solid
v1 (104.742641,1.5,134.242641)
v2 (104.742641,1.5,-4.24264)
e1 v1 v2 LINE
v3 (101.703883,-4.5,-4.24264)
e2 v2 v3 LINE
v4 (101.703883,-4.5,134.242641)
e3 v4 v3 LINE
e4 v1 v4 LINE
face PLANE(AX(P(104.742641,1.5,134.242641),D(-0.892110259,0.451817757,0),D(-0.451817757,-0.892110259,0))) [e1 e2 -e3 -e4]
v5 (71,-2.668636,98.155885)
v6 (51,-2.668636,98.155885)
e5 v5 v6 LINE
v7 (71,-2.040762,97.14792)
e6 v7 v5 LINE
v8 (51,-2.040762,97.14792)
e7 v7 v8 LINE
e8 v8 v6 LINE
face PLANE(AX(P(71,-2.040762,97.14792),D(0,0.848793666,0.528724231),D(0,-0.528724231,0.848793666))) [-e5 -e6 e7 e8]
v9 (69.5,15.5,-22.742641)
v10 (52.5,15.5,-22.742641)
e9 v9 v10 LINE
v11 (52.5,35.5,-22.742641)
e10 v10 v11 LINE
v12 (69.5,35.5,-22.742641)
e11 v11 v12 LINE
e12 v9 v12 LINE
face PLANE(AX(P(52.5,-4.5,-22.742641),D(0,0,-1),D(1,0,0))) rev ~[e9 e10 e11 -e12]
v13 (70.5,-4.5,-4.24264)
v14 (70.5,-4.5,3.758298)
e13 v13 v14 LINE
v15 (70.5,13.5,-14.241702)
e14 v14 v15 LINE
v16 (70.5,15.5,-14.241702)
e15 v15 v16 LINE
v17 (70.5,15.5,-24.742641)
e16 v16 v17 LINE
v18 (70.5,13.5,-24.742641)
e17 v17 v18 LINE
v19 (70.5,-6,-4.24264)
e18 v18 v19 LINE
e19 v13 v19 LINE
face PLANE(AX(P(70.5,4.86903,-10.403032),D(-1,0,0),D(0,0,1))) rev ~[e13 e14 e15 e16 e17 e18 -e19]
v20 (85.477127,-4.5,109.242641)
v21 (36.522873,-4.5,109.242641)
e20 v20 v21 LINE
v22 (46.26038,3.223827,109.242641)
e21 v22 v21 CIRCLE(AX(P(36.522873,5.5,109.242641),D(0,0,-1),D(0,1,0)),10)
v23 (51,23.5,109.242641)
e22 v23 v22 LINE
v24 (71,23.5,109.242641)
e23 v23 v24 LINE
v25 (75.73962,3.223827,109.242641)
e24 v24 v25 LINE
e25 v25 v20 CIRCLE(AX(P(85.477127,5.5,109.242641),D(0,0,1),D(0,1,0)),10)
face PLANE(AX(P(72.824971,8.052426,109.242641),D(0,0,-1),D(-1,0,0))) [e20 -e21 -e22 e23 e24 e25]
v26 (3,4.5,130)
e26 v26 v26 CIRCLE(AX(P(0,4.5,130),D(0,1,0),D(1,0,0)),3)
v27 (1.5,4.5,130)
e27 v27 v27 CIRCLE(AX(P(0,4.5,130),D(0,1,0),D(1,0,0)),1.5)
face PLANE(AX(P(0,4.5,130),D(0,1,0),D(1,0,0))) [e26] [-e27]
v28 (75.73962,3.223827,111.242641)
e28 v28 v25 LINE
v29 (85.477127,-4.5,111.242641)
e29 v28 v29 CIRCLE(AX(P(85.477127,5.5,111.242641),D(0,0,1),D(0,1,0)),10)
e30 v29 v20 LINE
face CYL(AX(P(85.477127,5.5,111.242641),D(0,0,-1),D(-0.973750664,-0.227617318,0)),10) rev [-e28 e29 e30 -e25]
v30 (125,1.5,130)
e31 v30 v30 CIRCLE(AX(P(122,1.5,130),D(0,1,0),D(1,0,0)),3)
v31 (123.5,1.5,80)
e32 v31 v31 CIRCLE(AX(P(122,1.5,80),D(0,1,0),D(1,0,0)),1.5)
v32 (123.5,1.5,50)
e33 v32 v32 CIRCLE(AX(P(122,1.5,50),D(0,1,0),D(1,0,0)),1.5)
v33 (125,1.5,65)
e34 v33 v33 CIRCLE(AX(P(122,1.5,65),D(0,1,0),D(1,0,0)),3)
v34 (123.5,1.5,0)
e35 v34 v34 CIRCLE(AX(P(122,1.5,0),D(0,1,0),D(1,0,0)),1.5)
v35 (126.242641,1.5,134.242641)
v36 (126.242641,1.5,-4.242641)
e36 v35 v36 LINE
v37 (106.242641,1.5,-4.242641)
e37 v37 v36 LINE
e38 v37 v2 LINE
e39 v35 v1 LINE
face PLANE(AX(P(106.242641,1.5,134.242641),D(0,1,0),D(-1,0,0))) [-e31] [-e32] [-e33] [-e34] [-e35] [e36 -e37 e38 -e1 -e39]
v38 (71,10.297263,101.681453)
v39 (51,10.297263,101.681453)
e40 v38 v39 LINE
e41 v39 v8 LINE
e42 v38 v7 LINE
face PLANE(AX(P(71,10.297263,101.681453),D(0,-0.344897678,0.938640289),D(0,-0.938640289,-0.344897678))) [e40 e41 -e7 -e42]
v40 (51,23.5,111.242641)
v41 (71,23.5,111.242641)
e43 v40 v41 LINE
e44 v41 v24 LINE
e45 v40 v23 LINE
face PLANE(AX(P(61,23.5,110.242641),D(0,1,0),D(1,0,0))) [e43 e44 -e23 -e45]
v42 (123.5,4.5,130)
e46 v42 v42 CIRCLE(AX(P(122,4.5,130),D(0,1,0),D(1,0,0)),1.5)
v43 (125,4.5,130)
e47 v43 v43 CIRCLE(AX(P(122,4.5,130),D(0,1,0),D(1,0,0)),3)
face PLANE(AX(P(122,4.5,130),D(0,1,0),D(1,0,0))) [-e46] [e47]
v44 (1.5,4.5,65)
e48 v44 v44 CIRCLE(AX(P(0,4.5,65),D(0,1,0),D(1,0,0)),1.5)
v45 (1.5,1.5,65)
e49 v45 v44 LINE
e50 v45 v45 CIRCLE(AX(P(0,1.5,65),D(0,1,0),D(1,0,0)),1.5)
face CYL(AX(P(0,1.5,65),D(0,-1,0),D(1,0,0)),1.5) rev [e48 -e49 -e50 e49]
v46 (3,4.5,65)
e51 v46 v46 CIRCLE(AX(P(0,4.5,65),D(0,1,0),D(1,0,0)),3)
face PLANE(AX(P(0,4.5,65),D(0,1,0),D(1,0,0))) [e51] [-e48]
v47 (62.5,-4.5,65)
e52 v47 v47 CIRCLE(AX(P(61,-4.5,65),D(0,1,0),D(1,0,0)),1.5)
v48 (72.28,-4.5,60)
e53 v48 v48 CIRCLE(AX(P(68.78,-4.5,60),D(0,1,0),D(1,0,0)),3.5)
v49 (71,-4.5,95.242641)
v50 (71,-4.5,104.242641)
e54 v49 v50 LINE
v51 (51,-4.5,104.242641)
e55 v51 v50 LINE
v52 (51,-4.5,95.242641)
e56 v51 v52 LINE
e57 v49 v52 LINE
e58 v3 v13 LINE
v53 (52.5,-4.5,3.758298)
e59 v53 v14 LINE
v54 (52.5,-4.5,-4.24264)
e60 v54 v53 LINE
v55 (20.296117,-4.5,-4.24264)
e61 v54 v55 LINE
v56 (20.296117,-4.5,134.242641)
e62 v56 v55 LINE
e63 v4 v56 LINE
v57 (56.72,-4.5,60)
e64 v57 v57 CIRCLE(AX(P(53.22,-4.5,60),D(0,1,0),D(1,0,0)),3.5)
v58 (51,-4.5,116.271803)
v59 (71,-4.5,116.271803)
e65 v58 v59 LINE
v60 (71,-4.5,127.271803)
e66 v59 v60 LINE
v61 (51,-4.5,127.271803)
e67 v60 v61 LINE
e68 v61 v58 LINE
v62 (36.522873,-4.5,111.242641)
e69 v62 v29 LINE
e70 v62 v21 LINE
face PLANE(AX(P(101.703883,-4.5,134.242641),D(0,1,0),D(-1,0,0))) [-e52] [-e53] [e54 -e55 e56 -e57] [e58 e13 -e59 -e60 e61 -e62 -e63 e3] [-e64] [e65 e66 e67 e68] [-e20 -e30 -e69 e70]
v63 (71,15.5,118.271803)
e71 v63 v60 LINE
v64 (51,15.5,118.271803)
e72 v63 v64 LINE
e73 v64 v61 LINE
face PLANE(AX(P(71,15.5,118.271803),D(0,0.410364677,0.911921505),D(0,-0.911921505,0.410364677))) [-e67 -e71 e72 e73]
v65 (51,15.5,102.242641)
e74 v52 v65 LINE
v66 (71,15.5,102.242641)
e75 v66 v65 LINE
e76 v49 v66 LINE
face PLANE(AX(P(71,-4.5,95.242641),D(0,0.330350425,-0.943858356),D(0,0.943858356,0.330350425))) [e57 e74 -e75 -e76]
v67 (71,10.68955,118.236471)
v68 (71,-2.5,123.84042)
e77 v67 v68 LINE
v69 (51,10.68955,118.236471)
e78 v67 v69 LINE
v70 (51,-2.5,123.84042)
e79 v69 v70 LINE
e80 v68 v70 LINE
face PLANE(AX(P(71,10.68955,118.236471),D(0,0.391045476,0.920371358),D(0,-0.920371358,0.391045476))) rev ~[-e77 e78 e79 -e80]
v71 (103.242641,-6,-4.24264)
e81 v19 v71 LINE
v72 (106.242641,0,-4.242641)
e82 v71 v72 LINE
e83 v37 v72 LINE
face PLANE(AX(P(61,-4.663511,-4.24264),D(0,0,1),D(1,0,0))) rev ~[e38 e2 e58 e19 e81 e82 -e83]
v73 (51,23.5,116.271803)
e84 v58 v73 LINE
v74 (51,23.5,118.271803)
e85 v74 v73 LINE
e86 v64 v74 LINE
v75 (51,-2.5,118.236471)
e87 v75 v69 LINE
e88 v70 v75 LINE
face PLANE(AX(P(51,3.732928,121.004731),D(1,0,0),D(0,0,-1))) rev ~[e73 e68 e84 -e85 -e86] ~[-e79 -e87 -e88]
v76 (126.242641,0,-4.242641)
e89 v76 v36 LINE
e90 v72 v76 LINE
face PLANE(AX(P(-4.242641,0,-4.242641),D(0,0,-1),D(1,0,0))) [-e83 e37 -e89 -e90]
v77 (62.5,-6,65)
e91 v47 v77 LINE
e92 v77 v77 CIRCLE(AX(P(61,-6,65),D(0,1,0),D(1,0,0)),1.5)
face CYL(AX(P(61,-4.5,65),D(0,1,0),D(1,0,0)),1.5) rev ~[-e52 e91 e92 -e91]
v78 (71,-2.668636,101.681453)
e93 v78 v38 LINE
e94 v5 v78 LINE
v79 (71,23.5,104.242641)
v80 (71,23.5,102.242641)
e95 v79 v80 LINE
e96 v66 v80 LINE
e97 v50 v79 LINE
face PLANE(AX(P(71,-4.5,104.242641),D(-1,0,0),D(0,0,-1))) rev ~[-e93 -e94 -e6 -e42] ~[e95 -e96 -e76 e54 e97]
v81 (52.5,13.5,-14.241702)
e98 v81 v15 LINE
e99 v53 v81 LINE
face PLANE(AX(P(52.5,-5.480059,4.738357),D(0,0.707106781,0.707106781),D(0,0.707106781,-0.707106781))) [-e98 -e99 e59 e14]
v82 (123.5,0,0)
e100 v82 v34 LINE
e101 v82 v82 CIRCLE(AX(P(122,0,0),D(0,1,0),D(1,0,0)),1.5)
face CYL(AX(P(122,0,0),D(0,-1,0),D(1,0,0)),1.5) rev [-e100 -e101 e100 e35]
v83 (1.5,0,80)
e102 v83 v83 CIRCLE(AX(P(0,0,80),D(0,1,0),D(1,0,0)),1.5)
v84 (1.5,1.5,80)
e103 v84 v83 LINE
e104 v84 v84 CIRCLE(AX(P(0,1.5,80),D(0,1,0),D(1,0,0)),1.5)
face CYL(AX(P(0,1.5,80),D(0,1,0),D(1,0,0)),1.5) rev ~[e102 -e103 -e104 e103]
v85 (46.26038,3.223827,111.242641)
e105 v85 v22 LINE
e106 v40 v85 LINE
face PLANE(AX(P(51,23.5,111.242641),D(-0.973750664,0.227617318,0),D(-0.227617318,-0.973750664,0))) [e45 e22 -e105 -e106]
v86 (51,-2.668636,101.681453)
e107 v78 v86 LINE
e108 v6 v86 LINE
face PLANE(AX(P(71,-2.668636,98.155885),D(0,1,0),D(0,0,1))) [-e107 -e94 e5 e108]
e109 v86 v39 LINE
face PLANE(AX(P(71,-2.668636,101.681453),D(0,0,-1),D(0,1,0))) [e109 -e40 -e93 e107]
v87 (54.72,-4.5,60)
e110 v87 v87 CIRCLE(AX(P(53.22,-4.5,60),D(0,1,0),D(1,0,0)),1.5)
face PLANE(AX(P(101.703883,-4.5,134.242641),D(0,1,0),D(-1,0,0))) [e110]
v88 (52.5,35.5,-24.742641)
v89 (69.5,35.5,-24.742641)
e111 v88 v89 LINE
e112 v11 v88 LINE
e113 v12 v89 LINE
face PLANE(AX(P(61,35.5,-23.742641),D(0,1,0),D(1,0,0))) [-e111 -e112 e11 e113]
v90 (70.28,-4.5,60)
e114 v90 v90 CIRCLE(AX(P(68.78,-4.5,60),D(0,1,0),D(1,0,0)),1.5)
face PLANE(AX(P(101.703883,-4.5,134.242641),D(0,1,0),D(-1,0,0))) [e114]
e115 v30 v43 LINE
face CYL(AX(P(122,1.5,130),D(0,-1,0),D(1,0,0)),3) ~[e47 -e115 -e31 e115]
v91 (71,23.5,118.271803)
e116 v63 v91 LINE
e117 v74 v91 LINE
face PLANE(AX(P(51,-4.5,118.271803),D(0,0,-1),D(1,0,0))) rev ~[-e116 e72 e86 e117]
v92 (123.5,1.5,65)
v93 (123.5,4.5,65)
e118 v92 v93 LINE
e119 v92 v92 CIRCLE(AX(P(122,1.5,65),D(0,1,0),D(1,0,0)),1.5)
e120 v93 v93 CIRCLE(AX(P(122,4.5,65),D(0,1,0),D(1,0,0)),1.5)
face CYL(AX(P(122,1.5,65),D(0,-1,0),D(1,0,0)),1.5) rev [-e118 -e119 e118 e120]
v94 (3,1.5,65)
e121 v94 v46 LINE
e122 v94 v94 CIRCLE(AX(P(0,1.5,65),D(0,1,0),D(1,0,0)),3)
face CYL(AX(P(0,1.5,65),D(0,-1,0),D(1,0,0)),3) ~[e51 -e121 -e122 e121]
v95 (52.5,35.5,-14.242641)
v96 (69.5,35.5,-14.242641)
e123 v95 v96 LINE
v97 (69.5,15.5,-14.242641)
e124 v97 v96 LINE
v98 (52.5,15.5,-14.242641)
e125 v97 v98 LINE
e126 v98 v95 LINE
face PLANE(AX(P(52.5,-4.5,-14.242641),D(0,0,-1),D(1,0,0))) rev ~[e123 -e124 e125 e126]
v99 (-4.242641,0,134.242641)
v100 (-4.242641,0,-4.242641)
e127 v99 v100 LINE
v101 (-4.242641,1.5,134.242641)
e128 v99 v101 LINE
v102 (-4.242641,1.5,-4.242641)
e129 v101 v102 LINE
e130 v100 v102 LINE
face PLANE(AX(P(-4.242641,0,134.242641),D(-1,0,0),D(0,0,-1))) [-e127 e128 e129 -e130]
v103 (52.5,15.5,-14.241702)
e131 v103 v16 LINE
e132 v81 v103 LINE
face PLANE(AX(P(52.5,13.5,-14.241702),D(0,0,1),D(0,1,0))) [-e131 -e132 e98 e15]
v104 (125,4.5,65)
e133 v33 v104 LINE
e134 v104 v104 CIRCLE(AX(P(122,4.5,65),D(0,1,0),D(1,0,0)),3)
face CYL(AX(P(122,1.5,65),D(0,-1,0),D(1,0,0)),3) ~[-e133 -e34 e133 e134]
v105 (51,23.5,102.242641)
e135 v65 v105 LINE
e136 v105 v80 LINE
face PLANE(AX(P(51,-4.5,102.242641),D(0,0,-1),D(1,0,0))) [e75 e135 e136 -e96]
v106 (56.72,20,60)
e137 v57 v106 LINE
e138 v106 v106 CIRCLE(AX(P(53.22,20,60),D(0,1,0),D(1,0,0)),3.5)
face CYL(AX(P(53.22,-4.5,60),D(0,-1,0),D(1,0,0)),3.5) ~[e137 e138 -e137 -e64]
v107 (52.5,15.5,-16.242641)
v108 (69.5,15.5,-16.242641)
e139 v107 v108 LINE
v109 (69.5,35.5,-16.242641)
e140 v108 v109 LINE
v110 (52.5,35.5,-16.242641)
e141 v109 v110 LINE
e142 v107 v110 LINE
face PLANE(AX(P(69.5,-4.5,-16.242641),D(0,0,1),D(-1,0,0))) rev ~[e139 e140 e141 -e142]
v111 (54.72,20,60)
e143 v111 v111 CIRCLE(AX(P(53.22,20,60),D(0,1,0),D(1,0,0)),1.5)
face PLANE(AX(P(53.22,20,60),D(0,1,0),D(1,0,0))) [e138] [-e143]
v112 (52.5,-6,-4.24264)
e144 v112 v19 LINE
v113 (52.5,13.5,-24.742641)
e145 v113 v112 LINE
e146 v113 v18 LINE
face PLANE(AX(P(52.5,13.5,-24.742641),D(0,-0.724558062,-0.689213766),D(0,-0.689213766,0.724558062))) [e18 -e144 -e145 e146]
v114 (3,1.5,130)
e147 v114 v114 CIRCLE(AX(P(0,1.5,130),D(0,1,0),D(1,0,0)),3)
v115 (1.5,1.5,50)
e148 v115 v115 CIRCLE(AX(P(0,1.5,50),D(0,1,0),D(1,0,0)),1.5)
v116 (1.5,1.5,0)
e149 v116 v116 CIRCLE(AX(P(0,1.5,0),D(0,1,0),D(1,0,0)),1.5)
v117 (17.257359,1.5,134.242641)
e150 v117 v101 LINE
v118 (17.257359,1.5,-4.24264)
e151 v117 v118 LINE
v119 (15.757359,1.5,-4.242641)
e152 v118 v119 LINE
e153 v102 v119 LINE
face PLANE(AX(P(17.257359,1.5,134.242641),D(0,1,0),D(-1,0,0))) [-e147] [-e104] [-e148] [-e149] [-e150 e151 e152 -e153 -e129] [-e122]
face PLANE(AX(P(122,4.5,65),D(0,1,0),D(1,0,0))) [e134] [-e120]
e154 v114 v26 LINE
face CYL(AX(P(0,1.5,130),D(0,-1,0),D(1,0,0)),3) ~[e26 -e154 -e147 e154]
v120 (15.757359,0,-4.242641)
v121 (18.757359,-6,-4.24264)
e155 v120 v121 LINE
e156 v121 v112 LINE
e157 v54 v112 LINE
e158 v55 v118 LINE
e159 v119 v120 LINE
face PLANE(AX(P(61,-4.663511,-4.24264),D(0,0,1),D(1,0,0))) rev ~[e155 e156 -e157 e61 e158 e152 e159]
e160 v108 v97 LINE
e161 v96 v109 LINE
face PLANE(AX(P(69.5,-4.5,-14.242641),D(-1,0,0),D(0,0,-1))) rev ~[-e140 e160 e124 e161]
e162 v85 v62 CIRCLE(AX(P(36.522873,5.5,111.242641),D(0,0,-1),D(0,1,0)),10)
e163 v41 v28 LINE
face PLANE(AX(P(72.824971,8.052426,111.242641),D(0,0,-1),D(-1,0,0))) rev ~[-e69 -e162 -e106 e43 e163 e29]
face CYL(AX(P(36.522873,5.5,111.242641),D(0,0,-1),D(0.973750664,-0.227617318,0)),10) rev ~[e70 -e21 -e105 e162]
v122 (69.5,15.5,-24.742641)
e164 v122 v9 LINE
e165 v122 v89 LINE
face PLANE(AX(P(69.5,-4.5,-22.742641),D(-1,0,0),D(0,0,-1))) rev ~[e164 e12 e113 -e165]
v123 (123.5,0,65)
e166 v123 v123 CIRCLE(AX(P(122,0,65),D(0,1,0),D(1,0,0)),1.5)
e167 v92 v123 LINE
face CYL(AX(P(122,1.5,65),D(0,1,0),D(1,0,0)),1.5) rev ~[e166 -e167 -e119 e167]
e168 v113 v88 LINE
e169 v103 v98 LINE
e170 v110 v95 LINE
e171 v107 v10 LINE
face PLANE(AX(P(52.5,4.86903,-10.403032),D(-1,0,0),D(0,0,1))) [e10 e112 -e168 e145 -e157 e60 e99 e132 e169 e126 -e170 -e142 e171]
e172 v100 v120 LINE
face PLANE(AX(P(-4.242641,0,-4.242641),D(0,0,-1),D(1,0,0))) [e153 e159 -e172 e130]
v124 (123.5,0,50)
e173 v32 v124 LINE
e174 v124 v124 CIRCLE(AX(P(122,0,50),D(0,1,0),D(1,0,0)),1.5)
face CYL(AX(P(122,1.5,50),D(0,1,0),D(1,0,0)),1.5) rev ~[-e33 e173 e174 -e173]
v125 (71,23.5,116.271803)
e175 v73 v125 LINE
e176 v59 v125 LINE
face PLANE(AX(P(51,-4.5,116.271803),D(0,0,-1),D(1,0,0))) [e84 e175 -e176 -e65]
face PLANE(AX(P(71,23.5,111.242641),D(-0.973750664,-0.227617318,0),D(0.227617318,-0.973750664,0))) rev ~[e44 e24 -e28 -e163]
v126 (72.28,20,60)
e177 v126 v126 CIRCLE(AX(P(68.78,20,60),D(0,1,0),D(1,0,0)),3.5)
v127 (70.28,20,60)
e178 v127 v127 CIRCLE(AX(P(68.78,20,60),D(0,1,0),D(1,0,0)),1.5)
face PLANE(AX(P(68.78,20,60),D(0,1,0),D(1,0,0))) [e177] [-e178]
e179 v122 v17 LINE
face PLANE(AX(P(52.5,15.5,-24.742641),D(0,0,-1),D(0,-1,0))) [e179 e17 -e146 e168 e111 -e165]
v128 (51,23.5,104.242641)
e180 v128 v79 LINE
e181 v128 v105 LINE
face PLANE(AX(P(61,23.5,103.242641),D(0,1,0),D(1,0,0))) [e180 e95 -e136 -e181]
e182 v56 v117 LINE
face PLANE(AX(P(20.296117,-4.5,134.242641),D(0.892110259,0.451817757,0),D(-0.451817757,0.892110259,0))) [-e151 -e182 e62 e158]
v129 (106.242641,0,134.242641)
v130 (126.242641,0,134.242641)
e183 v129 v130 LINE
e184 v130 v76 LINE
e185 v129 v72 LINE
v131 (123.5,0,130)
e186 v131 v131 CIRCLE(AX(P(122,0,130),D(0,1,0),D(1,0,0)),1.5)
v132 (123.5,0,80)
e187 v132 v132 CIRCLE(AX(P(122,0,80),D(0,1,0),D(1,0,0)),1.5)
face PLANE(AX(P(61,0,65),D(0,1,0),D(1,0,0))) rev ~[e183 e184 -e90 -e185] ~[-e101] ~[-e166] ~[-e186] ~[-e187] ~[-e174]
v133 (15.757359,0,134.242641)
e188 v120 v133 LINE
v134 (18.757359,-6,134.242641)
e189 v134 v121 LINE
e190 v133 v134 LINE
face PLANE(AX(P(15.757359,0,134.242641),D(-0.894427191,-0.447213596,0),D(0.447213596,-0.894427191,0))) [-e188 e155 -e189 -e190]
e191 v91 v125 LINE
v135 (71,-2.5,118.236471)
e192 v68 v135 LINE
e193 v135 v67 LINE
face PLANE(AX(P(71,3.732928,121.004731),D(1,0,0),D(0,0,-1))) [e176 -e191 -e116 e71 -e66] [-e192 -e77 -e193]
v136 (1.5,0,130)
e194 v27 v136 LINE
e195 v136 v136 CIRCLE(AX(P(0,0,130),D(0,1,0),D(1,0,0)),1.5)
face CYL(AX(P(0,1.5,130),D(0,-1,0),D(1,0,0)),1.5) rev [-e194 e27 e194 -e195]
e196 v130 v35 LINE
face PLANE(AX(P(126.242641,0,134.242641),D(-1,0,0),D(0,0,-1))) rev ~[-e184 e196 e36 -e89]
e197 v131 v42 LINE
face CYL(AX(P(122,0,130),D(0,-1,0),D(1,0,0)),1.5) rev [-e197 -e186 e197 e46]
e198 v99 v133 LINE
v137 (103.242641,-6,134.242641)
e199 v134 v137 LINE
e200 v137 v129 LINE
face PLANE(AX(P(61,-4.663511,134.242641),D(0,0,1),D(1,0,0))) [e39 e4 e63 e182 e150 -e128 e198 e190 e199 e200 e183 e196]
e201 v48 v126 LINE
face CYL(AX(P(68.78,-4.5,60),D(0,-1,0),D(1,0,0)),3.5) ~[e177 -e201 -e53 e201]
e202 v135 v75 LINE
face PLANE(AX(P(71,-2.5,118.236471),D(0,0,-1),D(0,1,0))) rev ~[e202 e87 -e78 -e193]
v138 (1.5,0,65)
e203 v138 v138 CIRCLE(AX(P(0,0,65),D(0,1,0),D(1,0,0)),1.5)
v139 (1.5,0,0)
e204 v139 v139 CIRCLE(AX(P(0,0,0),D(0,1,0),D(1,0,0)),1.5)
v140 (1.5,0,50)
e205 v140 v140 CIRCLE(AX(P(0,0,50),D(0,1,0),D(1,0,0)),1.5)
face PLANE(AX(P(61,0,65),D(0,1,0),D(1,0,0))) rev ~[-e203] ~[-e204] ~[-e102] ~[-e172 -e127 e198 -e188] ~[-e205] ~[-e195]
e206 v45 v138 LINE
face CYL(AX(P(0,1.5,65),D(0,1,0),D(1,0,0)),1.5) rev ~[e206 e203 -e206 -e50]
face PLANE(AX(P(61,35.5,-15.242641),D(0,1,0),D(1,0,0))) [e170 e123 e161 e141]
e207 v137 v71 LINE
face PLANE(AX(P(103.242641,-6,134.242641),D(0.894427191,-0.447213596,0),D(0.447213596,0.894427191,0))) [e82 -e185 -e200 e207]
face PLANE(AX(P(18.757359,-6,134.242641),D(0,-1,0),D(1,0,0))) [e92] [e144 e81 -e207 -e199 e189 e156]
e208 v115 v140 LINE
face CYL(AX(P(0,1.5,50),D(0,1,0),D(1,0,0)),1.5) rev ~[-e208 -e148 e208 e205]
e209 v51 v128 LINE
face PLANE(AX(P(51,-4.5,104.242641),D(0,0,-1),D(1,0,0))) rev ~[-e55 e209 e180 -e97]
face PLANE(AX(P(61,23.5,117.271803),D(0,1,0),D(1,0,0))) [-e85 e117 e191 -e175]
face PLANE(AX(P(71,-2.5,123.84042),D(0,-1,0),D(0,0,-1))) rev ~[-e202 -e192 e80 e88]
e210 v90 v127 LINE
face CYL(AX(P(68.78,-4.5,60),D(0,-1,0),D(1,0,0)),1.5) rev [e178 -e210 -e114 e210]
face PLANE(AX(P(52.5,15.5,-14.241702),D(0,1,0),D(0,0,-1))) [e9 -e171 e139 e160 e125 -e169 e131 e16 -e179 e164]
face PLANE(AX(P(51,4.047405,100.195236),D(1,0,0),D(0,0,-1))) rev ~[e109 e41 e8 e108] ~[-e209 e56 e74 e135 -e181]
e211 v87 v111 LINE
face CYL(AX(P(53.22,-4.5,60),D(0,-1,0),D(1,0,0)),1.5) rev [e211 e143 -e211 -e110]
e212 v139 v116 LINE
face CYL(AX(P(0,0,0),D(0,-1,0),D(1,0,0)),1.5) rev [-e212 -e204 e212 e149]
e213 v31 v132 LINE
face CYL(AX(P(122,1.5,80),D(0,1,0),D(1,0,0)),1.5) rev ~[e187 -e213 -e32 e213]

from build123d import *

# Parameters (mm, degrees)
SKETCH1_W              = 130.485281374
SKETCH1_H              = 138.485281374
SKETCH1_R              = 1.5
BOSS_EXTRUDE1_DEPTH    = 1.5
CUT_EXTRUDE1_DEPTH     = 17.5
BOSS_EXTRUDE2_DEPTH    = 138.485281
SKETCH14_R             = 3
SKETCH14_R_2           = 1.5
BOSS_EXTRUDE7_DEPTH    = 3
SKETCH15_R             = 1.5
CUT_EXTRUDE6_DEPTH     = 3
SKETCH16_R             = 3
SKETCH16_R_2           = 1.5
BOSS_EXTRUDE8_DEPTH    = 3
SKETCH17_R             = 1.5
CUT_EXTRUDE7_DEPTH     = 3
SKETCH18_R             = 3.5
SKETCH18_R_2           = 1.5
BOSS_EXTRUDE9_DEPTH    = 24.5
SKETCH19_W             = 20
SKETCH19_H             = 2
BOSS_EXTRUDE10_DEPTH   = 28
BOSS_EXTRUDE11_DEPTH   = 20
SKETCH24_R             = 1.5
CUT_EXTRUDE9_DEPTH     = 16
BOSS_EXTRUDE13_DEPTH   = 40
SKETCH27_W             = 17
SKETCH27_H             = 2
BOSS_EXTRUDE13_2_DEPTH = 40
SKETCH28_W             = 29.536458096
SKETCH28_H             = 15.843310856
CUT_EXTRUDE10_DEPTH    = 20
BOSS_EXTRUDE14_DEPTH   = 18
CUT_EXTRUDE11_DEPTH    = 26
BOSS_EXTRUDE15_DEPTH   = 2
FILLET1_R              = 10
SKETCH33_W             = 20
SKETCH33_H             = 2
BOSS_EXTRUDE16_DEPTH   = 28
BOSS_EXTRUDE17_DEPTH   = 20
CUT_EXTRUDE12_DEPTH    = 20


with BuildPart() as part:
    # Sketch1 → Boss-Extrude1 (new body)
    with BuildSketch(Plane(origin=(0, 0, 0), x_dir=(1, 0, 0), z_dir=(0, 1, 0))):
        with Locations((61, -65)):
            Rectangle(SKETCH1_W, SKETCH1_H)
        Circle(SKETCH1_R, mode=Mode.SUBTRACT)
        with Locations((122, 0)):
            Circle(SKETCH1_R, mode=Mode.SUBTRACT)
        with Locations((0, -130)):
            Circle(SKETCH1_R, mode=Mode.SUBTRACT)
        with Locations((122, -130)):
            Circle(SKETCH1_R, mode=Mode.SUBTRACT)
    extrude(amount=BOSS_EXTRUDE1_DEPTH)

    # Sketch3 → Cut-Extrude1 (cut)
    with BuildSketch(Plane(origin=(0, 1.5, 0), x_dir=(1, 0, 0), z_dir=(0, 1, 0))):
        Polygon((15.757359313, -65), (15.757359313, 4.242640687), (106.242640687, 4.242640687), (106.242640687, -65), (106.242640687, -134.242640687), (15.757359313, -134.242640687), align=None)
    extrude(amount=-CUT_EXTRUDE1_DEPTH, mode=Mode.SUBTRACT)

    # Sketch4 → Boss-Extrude2 (add, through all)
    with BuildSketch(Plane.XY.offset(134.242640687)):
        Polygon((15.757359313, 0), (18.757359313, -6), (103.242640687, -6), (106.242640687, 0), (106.242640687, 1.5), (104.742640687, 1.5), (101.703883411, -4.5), (83.627274603, -4.5), (38.372725397, -4.5), (20.296116589, -4.5), (17.257359313, 1.5), (15.757359313, 1.5), align=None)
    extrude(amount=-BOSS_EXTRUDE2_DEPTH)

    # Sketch14 → Boss-Extrude7 (add)
    with BuildSketch(Plane(origin=(0, 1.5, 0), x_dir=(1, 0, 0), z_dir=(0, 1, 0))):
        with Locations((0, -130)):
            Circle(SKETCH14_R)
        with Locations((0, -130)):
            Circle(SKETCH14_R_2, mode=Mode.SUBTRACT)
        with Locations((122, -130)):
            Circle(SKETCH14_R)
        with Locations((122, -130)):
            Circle(SKETCH14_R_2, mode=Mode.SUBTRACT)
    extrude(amount=BOSS_EXTRUDE7_DEPTH)

    # Sketch15 → Cut-Extrude6 (cut)
    with BuildSketch(Plane(origin=(0, 1.5, 0), x_dir=(1, 0, 0), z_dir=(0, 1, 0))):
        with Locations((0, -65)):
            Circle(SKETCH15_R)
        with Locations((122, -65)):
            Circle(SKETCH15_R)
    extrude(amount=-CUT_EXTRUDE6_DEPTH, mode=Mode.SUBTRACT)

    # Sketch16 → Boss-Extrude8 (add)
    with BuildSketch(Plane(origin=(0, 1.5, 0), x_dir=(1, 0, 0), z_dir=(0, 1, 0))):
        with Locations((0, -65)):
            Circle(SKETCH16_R)
        with Locations((0, -65)):
            Circle(SKETCH16_R_2, mode=Mode.SUBTRACT)
        with Locations((122, -65)):
            Circle(SKETCH16_R)
        with Locations((122, -65)):
            Circle(SKETCH16_R_2, mode=Mode.SUBTRACT)
    extrude(amount=BOSS_EXTRUDE8_DEPTH)

    # Sketch17 → Cut-Extrude7 (cut)
    with BuildSketch(Plane(origin=(0, 1.5, 0), x_dir=(1, 0, 0), z_dir=(0, 1, 0))):
        with Locations((0, -50)):
            Circle(SKETCH17_R)
        with Locations((0, -80)):
            Circle(SKETCH17_R)
        with Locations((122, -80)):
            Circle(SKETCH17_R)
        with Locations((122, -50)):
            Circle(SKETCH17_R)
    extrude(amount=-CUT_EXTRUDE7_DEPTH, mode=Mode.SUBTRACT)

    # Sketch18 → Boss-Extrude9 (add)
    with BuildSketch(Plane(origin=(0, -4.5, 0), x_dir=(1, 0, 0), z_dir=(0, 1, 0))):
        with Locations((53.22, -60)):
            Circle(SKETCH18_R)
        with Locations((53.22, -60)):
            Circle(SKETCH18_R_2, mode=Mode.SUBTRACT)
        with Locations((68.78, -60)):
            Circle(SKETCH18_R)
        with Locations((68.78, -60)):
            Circle(SKETCH18_R_2, mode=Mode.SUBTRACT)
    extrude(amount=BOSS_EXTRUDE9_DEPTH)

    # Sketch19 → Boss-Extrude10 (add)
    with BuildSketch(Plane(origin=(0, -4.5, 0), x_dir=(1, 0, 0), z_dir=(0, 1, 0))):
        with Locations((61, -110.242640687)):
            Rectangle(SKETCH19_W, SKETCH19_H)
        with Locations((61, -103.242640687)):
            Rectangle(SKETCH19_W, SKETCH19_H)
    extrude(amount=BOSS_EXTRUDE10_DEPTH)

    # Sketch20 → Boss-Extrude11 (add)
    with BuildSketch(Plane(origin=(71, 0, 0), x_dir=(0, 0, -1), z_dir=(1, 0, 0))):
        Polygon((-111.242640687, -4.5), (-118.242640687, -4.5), (-111.242640687, 15.5), align=None)
        Polygon((-115.329396397, -2.668636481), (-111.803828851, -2.668636481), (-111.803828851, 10.297263435), (-116.337361542, -2.040762337), align=None, mode=Mode.SUBTRACT)
        Polygon((-95.242640687, -4.5), (-102.242640687, 15.5), (-102.242640687, -4.5), align=None)
        Polygon((-101.681452524, 10.297263435), (-97.147919832, -2.040762337), (-98.155884977, -2.668636481), (-101.681452524, -2.668636481), align=None, mode=Mode.SUBTRACT)
    extrude(amount=-BOSS_EXTRUDE11_DEPTH)

    # Sketch24 → Cut-Extrude9 (cut)
    with BuildSketch(Plane(origin=(0, -4.5, 0), x_dir=(1, 0, 0), z_dir=(0, 1, 0))):
        with Locations((61, -65)):
            Circle(SKETCH24_R)
    extrude(amount=-CUT_EXTRUDE9_DEPTH, mode=Mode.SUBTRACT)



with BuildPart() as body_2:
    # Sketch27 → Boss-Extrude13 (new body)
    with BuildSketch(Plane(origin=(0, -4.5, 0), x_dir=(1, 0, 0), z_dir=(0, 1, 0))):
        Polygon((52.5, 14.242640687), (61, 14.242640687), (69.5, 14.242640687), (69.5, 16.242640687), (52.5, 16.242640687), align=None)
    extrude(amount=BOSS_EXTRUDE13_DEPTH)


with BuildPart() as body_3:
    # Sketch27 → Boss-Extrude13 2 (new body)
    with BuildSketch(Plane(origin=(0, -4.5, 0), x_dir=(1, 0, 0), z_dir=(0, 1, 0))):
        with Locations((61, 23.742640687)):
            Rectangle(SKETCH27_W, SKETCH27_H)
    extrude(amount=BOSS_EXTRUDE13_2_DEPTH)


with BuildPart() as cut_extrude10_tool:
    # Sketch28 → Cut-Extrude10 (new body)
    with BuildSketch(Plane.XZ.offset(4.5)):
        with Locations((60.962328077, -18.662784731)):
            Rectangle(SKETCH28_W, SKETCH28_H)
    extrude(amount=-CUT_EXTRUDE10_DEPTH)


with BuildPart() as body_2_1:
    add(body_2.part)

    # Cut-Extrude10: cut by cut_extrude10_tool
    add(cut_extrude10_tool.part, mode=Mode.SUBTRACT)


with BuildPart() as body_3_1:
    add(body_3.part)

    # Cut-Extrude10: cut by cut_extrude10_tool
    add(cut_extrude10_tool.part, mode=Mode.SUBTRACT)


with BuildPart() as part_1:
    add(part.part)

    add(body_2_1.part)  # Boss-Extrude14 merges body 2

    add(body_3_1.part)  # Boss-Extrude14 merges body 3
    # Sketch29 → Boss-Extrude14 (add)
    with BuildSketch(Plane.ZY.offset(-52.5)):
        Polygon((-24.742640687, 13.5), (-4.242640687, -6), (4.73835691, -5.480059004), (-14.241702094, 13.5), (-14.241702094, 15.5), (-24.742640687, 15.5), align=None)
    extrude(amount=-BOSS_EXTRUDE14_DEPTH)

    # Sketch30 → Cut-Extrude11 (cut)
    with BuildSketch(Plane.ZY.offset(-51)):
        Polygon((111.242640687, 15.5), (111.242640687, -4.5), (118.242640687, -4.5), align=None)
    extrude(amount=-CUT_EXTRUDE11_DEPTH, mode=Mode.SUBTRACT)

    # Sketch32 → Boss-Extrude15 (add)
    with BuildSketch(Plane.XY.offset(111.242640687)):
        Polygon((71, 23.5), (77.545089148, -4.5), (71, -4.5), align=None)
        Polygon((51, -4.5), (51, 23.5), (44.454910852, -4.5), align=None)
    extrude(amount=-BOSS_EXTRUDE15_DEPTH)

    # Fillet1
    fillet1_edges = [part_1.edges().sort_by_distance(p)[0] for p in [
        (77.545089148, -4.5, 110.242640687),
        (44.454910852, -4.5, 110.242640687),
    ]]
    fillet(fillet1_edges, radius=FILLET1_R)

    # Sketch33 → Boss-Extrude16 (add)
    with BuildSketch(Plane(origin=(0, -4.5, 0), x_dir=(1, 0, 0), z_dir=(0, 1, 0))):
        with Locations((61, -117.27180301)):
            Rectangle(SKETCH33_W, SKETCH33_H)
    extrude(amount=BOSS_EXTRUDE16_DEPTH)

    # Sketch34 → Boss-Extrude17 (add)
    with BuildSketch(Plane(origin=(71, 0, 0), x_dir=(0, 0, -1), z_dir=(1, 0, 0))):
        Polygon((-118.27180301, -4.5), (-118.27180301, 15.5), (-127.27180301, -4.5), align=None)
    extrude(amount=-BOSS_EXTRUDE17_DEPTH)

    # Sketch35 → Cut-Extrude12 (cut)
    with BuildSketch(Plane(origin=(71, 0, 0), x_dir=(0, 0, -1), z_dir=(1, 0, 0))):
        Polygon((-121.77180301, -2.5), (-118.236471352, -2.5), (-118.236471352, 10.68955001), (-123.840420038, -2.5), align=None)
    extrude(amount=-CUT_EXTRUDE12_DEPTH, mode=Mode.SUBTRACT)


solid = part_1.part
